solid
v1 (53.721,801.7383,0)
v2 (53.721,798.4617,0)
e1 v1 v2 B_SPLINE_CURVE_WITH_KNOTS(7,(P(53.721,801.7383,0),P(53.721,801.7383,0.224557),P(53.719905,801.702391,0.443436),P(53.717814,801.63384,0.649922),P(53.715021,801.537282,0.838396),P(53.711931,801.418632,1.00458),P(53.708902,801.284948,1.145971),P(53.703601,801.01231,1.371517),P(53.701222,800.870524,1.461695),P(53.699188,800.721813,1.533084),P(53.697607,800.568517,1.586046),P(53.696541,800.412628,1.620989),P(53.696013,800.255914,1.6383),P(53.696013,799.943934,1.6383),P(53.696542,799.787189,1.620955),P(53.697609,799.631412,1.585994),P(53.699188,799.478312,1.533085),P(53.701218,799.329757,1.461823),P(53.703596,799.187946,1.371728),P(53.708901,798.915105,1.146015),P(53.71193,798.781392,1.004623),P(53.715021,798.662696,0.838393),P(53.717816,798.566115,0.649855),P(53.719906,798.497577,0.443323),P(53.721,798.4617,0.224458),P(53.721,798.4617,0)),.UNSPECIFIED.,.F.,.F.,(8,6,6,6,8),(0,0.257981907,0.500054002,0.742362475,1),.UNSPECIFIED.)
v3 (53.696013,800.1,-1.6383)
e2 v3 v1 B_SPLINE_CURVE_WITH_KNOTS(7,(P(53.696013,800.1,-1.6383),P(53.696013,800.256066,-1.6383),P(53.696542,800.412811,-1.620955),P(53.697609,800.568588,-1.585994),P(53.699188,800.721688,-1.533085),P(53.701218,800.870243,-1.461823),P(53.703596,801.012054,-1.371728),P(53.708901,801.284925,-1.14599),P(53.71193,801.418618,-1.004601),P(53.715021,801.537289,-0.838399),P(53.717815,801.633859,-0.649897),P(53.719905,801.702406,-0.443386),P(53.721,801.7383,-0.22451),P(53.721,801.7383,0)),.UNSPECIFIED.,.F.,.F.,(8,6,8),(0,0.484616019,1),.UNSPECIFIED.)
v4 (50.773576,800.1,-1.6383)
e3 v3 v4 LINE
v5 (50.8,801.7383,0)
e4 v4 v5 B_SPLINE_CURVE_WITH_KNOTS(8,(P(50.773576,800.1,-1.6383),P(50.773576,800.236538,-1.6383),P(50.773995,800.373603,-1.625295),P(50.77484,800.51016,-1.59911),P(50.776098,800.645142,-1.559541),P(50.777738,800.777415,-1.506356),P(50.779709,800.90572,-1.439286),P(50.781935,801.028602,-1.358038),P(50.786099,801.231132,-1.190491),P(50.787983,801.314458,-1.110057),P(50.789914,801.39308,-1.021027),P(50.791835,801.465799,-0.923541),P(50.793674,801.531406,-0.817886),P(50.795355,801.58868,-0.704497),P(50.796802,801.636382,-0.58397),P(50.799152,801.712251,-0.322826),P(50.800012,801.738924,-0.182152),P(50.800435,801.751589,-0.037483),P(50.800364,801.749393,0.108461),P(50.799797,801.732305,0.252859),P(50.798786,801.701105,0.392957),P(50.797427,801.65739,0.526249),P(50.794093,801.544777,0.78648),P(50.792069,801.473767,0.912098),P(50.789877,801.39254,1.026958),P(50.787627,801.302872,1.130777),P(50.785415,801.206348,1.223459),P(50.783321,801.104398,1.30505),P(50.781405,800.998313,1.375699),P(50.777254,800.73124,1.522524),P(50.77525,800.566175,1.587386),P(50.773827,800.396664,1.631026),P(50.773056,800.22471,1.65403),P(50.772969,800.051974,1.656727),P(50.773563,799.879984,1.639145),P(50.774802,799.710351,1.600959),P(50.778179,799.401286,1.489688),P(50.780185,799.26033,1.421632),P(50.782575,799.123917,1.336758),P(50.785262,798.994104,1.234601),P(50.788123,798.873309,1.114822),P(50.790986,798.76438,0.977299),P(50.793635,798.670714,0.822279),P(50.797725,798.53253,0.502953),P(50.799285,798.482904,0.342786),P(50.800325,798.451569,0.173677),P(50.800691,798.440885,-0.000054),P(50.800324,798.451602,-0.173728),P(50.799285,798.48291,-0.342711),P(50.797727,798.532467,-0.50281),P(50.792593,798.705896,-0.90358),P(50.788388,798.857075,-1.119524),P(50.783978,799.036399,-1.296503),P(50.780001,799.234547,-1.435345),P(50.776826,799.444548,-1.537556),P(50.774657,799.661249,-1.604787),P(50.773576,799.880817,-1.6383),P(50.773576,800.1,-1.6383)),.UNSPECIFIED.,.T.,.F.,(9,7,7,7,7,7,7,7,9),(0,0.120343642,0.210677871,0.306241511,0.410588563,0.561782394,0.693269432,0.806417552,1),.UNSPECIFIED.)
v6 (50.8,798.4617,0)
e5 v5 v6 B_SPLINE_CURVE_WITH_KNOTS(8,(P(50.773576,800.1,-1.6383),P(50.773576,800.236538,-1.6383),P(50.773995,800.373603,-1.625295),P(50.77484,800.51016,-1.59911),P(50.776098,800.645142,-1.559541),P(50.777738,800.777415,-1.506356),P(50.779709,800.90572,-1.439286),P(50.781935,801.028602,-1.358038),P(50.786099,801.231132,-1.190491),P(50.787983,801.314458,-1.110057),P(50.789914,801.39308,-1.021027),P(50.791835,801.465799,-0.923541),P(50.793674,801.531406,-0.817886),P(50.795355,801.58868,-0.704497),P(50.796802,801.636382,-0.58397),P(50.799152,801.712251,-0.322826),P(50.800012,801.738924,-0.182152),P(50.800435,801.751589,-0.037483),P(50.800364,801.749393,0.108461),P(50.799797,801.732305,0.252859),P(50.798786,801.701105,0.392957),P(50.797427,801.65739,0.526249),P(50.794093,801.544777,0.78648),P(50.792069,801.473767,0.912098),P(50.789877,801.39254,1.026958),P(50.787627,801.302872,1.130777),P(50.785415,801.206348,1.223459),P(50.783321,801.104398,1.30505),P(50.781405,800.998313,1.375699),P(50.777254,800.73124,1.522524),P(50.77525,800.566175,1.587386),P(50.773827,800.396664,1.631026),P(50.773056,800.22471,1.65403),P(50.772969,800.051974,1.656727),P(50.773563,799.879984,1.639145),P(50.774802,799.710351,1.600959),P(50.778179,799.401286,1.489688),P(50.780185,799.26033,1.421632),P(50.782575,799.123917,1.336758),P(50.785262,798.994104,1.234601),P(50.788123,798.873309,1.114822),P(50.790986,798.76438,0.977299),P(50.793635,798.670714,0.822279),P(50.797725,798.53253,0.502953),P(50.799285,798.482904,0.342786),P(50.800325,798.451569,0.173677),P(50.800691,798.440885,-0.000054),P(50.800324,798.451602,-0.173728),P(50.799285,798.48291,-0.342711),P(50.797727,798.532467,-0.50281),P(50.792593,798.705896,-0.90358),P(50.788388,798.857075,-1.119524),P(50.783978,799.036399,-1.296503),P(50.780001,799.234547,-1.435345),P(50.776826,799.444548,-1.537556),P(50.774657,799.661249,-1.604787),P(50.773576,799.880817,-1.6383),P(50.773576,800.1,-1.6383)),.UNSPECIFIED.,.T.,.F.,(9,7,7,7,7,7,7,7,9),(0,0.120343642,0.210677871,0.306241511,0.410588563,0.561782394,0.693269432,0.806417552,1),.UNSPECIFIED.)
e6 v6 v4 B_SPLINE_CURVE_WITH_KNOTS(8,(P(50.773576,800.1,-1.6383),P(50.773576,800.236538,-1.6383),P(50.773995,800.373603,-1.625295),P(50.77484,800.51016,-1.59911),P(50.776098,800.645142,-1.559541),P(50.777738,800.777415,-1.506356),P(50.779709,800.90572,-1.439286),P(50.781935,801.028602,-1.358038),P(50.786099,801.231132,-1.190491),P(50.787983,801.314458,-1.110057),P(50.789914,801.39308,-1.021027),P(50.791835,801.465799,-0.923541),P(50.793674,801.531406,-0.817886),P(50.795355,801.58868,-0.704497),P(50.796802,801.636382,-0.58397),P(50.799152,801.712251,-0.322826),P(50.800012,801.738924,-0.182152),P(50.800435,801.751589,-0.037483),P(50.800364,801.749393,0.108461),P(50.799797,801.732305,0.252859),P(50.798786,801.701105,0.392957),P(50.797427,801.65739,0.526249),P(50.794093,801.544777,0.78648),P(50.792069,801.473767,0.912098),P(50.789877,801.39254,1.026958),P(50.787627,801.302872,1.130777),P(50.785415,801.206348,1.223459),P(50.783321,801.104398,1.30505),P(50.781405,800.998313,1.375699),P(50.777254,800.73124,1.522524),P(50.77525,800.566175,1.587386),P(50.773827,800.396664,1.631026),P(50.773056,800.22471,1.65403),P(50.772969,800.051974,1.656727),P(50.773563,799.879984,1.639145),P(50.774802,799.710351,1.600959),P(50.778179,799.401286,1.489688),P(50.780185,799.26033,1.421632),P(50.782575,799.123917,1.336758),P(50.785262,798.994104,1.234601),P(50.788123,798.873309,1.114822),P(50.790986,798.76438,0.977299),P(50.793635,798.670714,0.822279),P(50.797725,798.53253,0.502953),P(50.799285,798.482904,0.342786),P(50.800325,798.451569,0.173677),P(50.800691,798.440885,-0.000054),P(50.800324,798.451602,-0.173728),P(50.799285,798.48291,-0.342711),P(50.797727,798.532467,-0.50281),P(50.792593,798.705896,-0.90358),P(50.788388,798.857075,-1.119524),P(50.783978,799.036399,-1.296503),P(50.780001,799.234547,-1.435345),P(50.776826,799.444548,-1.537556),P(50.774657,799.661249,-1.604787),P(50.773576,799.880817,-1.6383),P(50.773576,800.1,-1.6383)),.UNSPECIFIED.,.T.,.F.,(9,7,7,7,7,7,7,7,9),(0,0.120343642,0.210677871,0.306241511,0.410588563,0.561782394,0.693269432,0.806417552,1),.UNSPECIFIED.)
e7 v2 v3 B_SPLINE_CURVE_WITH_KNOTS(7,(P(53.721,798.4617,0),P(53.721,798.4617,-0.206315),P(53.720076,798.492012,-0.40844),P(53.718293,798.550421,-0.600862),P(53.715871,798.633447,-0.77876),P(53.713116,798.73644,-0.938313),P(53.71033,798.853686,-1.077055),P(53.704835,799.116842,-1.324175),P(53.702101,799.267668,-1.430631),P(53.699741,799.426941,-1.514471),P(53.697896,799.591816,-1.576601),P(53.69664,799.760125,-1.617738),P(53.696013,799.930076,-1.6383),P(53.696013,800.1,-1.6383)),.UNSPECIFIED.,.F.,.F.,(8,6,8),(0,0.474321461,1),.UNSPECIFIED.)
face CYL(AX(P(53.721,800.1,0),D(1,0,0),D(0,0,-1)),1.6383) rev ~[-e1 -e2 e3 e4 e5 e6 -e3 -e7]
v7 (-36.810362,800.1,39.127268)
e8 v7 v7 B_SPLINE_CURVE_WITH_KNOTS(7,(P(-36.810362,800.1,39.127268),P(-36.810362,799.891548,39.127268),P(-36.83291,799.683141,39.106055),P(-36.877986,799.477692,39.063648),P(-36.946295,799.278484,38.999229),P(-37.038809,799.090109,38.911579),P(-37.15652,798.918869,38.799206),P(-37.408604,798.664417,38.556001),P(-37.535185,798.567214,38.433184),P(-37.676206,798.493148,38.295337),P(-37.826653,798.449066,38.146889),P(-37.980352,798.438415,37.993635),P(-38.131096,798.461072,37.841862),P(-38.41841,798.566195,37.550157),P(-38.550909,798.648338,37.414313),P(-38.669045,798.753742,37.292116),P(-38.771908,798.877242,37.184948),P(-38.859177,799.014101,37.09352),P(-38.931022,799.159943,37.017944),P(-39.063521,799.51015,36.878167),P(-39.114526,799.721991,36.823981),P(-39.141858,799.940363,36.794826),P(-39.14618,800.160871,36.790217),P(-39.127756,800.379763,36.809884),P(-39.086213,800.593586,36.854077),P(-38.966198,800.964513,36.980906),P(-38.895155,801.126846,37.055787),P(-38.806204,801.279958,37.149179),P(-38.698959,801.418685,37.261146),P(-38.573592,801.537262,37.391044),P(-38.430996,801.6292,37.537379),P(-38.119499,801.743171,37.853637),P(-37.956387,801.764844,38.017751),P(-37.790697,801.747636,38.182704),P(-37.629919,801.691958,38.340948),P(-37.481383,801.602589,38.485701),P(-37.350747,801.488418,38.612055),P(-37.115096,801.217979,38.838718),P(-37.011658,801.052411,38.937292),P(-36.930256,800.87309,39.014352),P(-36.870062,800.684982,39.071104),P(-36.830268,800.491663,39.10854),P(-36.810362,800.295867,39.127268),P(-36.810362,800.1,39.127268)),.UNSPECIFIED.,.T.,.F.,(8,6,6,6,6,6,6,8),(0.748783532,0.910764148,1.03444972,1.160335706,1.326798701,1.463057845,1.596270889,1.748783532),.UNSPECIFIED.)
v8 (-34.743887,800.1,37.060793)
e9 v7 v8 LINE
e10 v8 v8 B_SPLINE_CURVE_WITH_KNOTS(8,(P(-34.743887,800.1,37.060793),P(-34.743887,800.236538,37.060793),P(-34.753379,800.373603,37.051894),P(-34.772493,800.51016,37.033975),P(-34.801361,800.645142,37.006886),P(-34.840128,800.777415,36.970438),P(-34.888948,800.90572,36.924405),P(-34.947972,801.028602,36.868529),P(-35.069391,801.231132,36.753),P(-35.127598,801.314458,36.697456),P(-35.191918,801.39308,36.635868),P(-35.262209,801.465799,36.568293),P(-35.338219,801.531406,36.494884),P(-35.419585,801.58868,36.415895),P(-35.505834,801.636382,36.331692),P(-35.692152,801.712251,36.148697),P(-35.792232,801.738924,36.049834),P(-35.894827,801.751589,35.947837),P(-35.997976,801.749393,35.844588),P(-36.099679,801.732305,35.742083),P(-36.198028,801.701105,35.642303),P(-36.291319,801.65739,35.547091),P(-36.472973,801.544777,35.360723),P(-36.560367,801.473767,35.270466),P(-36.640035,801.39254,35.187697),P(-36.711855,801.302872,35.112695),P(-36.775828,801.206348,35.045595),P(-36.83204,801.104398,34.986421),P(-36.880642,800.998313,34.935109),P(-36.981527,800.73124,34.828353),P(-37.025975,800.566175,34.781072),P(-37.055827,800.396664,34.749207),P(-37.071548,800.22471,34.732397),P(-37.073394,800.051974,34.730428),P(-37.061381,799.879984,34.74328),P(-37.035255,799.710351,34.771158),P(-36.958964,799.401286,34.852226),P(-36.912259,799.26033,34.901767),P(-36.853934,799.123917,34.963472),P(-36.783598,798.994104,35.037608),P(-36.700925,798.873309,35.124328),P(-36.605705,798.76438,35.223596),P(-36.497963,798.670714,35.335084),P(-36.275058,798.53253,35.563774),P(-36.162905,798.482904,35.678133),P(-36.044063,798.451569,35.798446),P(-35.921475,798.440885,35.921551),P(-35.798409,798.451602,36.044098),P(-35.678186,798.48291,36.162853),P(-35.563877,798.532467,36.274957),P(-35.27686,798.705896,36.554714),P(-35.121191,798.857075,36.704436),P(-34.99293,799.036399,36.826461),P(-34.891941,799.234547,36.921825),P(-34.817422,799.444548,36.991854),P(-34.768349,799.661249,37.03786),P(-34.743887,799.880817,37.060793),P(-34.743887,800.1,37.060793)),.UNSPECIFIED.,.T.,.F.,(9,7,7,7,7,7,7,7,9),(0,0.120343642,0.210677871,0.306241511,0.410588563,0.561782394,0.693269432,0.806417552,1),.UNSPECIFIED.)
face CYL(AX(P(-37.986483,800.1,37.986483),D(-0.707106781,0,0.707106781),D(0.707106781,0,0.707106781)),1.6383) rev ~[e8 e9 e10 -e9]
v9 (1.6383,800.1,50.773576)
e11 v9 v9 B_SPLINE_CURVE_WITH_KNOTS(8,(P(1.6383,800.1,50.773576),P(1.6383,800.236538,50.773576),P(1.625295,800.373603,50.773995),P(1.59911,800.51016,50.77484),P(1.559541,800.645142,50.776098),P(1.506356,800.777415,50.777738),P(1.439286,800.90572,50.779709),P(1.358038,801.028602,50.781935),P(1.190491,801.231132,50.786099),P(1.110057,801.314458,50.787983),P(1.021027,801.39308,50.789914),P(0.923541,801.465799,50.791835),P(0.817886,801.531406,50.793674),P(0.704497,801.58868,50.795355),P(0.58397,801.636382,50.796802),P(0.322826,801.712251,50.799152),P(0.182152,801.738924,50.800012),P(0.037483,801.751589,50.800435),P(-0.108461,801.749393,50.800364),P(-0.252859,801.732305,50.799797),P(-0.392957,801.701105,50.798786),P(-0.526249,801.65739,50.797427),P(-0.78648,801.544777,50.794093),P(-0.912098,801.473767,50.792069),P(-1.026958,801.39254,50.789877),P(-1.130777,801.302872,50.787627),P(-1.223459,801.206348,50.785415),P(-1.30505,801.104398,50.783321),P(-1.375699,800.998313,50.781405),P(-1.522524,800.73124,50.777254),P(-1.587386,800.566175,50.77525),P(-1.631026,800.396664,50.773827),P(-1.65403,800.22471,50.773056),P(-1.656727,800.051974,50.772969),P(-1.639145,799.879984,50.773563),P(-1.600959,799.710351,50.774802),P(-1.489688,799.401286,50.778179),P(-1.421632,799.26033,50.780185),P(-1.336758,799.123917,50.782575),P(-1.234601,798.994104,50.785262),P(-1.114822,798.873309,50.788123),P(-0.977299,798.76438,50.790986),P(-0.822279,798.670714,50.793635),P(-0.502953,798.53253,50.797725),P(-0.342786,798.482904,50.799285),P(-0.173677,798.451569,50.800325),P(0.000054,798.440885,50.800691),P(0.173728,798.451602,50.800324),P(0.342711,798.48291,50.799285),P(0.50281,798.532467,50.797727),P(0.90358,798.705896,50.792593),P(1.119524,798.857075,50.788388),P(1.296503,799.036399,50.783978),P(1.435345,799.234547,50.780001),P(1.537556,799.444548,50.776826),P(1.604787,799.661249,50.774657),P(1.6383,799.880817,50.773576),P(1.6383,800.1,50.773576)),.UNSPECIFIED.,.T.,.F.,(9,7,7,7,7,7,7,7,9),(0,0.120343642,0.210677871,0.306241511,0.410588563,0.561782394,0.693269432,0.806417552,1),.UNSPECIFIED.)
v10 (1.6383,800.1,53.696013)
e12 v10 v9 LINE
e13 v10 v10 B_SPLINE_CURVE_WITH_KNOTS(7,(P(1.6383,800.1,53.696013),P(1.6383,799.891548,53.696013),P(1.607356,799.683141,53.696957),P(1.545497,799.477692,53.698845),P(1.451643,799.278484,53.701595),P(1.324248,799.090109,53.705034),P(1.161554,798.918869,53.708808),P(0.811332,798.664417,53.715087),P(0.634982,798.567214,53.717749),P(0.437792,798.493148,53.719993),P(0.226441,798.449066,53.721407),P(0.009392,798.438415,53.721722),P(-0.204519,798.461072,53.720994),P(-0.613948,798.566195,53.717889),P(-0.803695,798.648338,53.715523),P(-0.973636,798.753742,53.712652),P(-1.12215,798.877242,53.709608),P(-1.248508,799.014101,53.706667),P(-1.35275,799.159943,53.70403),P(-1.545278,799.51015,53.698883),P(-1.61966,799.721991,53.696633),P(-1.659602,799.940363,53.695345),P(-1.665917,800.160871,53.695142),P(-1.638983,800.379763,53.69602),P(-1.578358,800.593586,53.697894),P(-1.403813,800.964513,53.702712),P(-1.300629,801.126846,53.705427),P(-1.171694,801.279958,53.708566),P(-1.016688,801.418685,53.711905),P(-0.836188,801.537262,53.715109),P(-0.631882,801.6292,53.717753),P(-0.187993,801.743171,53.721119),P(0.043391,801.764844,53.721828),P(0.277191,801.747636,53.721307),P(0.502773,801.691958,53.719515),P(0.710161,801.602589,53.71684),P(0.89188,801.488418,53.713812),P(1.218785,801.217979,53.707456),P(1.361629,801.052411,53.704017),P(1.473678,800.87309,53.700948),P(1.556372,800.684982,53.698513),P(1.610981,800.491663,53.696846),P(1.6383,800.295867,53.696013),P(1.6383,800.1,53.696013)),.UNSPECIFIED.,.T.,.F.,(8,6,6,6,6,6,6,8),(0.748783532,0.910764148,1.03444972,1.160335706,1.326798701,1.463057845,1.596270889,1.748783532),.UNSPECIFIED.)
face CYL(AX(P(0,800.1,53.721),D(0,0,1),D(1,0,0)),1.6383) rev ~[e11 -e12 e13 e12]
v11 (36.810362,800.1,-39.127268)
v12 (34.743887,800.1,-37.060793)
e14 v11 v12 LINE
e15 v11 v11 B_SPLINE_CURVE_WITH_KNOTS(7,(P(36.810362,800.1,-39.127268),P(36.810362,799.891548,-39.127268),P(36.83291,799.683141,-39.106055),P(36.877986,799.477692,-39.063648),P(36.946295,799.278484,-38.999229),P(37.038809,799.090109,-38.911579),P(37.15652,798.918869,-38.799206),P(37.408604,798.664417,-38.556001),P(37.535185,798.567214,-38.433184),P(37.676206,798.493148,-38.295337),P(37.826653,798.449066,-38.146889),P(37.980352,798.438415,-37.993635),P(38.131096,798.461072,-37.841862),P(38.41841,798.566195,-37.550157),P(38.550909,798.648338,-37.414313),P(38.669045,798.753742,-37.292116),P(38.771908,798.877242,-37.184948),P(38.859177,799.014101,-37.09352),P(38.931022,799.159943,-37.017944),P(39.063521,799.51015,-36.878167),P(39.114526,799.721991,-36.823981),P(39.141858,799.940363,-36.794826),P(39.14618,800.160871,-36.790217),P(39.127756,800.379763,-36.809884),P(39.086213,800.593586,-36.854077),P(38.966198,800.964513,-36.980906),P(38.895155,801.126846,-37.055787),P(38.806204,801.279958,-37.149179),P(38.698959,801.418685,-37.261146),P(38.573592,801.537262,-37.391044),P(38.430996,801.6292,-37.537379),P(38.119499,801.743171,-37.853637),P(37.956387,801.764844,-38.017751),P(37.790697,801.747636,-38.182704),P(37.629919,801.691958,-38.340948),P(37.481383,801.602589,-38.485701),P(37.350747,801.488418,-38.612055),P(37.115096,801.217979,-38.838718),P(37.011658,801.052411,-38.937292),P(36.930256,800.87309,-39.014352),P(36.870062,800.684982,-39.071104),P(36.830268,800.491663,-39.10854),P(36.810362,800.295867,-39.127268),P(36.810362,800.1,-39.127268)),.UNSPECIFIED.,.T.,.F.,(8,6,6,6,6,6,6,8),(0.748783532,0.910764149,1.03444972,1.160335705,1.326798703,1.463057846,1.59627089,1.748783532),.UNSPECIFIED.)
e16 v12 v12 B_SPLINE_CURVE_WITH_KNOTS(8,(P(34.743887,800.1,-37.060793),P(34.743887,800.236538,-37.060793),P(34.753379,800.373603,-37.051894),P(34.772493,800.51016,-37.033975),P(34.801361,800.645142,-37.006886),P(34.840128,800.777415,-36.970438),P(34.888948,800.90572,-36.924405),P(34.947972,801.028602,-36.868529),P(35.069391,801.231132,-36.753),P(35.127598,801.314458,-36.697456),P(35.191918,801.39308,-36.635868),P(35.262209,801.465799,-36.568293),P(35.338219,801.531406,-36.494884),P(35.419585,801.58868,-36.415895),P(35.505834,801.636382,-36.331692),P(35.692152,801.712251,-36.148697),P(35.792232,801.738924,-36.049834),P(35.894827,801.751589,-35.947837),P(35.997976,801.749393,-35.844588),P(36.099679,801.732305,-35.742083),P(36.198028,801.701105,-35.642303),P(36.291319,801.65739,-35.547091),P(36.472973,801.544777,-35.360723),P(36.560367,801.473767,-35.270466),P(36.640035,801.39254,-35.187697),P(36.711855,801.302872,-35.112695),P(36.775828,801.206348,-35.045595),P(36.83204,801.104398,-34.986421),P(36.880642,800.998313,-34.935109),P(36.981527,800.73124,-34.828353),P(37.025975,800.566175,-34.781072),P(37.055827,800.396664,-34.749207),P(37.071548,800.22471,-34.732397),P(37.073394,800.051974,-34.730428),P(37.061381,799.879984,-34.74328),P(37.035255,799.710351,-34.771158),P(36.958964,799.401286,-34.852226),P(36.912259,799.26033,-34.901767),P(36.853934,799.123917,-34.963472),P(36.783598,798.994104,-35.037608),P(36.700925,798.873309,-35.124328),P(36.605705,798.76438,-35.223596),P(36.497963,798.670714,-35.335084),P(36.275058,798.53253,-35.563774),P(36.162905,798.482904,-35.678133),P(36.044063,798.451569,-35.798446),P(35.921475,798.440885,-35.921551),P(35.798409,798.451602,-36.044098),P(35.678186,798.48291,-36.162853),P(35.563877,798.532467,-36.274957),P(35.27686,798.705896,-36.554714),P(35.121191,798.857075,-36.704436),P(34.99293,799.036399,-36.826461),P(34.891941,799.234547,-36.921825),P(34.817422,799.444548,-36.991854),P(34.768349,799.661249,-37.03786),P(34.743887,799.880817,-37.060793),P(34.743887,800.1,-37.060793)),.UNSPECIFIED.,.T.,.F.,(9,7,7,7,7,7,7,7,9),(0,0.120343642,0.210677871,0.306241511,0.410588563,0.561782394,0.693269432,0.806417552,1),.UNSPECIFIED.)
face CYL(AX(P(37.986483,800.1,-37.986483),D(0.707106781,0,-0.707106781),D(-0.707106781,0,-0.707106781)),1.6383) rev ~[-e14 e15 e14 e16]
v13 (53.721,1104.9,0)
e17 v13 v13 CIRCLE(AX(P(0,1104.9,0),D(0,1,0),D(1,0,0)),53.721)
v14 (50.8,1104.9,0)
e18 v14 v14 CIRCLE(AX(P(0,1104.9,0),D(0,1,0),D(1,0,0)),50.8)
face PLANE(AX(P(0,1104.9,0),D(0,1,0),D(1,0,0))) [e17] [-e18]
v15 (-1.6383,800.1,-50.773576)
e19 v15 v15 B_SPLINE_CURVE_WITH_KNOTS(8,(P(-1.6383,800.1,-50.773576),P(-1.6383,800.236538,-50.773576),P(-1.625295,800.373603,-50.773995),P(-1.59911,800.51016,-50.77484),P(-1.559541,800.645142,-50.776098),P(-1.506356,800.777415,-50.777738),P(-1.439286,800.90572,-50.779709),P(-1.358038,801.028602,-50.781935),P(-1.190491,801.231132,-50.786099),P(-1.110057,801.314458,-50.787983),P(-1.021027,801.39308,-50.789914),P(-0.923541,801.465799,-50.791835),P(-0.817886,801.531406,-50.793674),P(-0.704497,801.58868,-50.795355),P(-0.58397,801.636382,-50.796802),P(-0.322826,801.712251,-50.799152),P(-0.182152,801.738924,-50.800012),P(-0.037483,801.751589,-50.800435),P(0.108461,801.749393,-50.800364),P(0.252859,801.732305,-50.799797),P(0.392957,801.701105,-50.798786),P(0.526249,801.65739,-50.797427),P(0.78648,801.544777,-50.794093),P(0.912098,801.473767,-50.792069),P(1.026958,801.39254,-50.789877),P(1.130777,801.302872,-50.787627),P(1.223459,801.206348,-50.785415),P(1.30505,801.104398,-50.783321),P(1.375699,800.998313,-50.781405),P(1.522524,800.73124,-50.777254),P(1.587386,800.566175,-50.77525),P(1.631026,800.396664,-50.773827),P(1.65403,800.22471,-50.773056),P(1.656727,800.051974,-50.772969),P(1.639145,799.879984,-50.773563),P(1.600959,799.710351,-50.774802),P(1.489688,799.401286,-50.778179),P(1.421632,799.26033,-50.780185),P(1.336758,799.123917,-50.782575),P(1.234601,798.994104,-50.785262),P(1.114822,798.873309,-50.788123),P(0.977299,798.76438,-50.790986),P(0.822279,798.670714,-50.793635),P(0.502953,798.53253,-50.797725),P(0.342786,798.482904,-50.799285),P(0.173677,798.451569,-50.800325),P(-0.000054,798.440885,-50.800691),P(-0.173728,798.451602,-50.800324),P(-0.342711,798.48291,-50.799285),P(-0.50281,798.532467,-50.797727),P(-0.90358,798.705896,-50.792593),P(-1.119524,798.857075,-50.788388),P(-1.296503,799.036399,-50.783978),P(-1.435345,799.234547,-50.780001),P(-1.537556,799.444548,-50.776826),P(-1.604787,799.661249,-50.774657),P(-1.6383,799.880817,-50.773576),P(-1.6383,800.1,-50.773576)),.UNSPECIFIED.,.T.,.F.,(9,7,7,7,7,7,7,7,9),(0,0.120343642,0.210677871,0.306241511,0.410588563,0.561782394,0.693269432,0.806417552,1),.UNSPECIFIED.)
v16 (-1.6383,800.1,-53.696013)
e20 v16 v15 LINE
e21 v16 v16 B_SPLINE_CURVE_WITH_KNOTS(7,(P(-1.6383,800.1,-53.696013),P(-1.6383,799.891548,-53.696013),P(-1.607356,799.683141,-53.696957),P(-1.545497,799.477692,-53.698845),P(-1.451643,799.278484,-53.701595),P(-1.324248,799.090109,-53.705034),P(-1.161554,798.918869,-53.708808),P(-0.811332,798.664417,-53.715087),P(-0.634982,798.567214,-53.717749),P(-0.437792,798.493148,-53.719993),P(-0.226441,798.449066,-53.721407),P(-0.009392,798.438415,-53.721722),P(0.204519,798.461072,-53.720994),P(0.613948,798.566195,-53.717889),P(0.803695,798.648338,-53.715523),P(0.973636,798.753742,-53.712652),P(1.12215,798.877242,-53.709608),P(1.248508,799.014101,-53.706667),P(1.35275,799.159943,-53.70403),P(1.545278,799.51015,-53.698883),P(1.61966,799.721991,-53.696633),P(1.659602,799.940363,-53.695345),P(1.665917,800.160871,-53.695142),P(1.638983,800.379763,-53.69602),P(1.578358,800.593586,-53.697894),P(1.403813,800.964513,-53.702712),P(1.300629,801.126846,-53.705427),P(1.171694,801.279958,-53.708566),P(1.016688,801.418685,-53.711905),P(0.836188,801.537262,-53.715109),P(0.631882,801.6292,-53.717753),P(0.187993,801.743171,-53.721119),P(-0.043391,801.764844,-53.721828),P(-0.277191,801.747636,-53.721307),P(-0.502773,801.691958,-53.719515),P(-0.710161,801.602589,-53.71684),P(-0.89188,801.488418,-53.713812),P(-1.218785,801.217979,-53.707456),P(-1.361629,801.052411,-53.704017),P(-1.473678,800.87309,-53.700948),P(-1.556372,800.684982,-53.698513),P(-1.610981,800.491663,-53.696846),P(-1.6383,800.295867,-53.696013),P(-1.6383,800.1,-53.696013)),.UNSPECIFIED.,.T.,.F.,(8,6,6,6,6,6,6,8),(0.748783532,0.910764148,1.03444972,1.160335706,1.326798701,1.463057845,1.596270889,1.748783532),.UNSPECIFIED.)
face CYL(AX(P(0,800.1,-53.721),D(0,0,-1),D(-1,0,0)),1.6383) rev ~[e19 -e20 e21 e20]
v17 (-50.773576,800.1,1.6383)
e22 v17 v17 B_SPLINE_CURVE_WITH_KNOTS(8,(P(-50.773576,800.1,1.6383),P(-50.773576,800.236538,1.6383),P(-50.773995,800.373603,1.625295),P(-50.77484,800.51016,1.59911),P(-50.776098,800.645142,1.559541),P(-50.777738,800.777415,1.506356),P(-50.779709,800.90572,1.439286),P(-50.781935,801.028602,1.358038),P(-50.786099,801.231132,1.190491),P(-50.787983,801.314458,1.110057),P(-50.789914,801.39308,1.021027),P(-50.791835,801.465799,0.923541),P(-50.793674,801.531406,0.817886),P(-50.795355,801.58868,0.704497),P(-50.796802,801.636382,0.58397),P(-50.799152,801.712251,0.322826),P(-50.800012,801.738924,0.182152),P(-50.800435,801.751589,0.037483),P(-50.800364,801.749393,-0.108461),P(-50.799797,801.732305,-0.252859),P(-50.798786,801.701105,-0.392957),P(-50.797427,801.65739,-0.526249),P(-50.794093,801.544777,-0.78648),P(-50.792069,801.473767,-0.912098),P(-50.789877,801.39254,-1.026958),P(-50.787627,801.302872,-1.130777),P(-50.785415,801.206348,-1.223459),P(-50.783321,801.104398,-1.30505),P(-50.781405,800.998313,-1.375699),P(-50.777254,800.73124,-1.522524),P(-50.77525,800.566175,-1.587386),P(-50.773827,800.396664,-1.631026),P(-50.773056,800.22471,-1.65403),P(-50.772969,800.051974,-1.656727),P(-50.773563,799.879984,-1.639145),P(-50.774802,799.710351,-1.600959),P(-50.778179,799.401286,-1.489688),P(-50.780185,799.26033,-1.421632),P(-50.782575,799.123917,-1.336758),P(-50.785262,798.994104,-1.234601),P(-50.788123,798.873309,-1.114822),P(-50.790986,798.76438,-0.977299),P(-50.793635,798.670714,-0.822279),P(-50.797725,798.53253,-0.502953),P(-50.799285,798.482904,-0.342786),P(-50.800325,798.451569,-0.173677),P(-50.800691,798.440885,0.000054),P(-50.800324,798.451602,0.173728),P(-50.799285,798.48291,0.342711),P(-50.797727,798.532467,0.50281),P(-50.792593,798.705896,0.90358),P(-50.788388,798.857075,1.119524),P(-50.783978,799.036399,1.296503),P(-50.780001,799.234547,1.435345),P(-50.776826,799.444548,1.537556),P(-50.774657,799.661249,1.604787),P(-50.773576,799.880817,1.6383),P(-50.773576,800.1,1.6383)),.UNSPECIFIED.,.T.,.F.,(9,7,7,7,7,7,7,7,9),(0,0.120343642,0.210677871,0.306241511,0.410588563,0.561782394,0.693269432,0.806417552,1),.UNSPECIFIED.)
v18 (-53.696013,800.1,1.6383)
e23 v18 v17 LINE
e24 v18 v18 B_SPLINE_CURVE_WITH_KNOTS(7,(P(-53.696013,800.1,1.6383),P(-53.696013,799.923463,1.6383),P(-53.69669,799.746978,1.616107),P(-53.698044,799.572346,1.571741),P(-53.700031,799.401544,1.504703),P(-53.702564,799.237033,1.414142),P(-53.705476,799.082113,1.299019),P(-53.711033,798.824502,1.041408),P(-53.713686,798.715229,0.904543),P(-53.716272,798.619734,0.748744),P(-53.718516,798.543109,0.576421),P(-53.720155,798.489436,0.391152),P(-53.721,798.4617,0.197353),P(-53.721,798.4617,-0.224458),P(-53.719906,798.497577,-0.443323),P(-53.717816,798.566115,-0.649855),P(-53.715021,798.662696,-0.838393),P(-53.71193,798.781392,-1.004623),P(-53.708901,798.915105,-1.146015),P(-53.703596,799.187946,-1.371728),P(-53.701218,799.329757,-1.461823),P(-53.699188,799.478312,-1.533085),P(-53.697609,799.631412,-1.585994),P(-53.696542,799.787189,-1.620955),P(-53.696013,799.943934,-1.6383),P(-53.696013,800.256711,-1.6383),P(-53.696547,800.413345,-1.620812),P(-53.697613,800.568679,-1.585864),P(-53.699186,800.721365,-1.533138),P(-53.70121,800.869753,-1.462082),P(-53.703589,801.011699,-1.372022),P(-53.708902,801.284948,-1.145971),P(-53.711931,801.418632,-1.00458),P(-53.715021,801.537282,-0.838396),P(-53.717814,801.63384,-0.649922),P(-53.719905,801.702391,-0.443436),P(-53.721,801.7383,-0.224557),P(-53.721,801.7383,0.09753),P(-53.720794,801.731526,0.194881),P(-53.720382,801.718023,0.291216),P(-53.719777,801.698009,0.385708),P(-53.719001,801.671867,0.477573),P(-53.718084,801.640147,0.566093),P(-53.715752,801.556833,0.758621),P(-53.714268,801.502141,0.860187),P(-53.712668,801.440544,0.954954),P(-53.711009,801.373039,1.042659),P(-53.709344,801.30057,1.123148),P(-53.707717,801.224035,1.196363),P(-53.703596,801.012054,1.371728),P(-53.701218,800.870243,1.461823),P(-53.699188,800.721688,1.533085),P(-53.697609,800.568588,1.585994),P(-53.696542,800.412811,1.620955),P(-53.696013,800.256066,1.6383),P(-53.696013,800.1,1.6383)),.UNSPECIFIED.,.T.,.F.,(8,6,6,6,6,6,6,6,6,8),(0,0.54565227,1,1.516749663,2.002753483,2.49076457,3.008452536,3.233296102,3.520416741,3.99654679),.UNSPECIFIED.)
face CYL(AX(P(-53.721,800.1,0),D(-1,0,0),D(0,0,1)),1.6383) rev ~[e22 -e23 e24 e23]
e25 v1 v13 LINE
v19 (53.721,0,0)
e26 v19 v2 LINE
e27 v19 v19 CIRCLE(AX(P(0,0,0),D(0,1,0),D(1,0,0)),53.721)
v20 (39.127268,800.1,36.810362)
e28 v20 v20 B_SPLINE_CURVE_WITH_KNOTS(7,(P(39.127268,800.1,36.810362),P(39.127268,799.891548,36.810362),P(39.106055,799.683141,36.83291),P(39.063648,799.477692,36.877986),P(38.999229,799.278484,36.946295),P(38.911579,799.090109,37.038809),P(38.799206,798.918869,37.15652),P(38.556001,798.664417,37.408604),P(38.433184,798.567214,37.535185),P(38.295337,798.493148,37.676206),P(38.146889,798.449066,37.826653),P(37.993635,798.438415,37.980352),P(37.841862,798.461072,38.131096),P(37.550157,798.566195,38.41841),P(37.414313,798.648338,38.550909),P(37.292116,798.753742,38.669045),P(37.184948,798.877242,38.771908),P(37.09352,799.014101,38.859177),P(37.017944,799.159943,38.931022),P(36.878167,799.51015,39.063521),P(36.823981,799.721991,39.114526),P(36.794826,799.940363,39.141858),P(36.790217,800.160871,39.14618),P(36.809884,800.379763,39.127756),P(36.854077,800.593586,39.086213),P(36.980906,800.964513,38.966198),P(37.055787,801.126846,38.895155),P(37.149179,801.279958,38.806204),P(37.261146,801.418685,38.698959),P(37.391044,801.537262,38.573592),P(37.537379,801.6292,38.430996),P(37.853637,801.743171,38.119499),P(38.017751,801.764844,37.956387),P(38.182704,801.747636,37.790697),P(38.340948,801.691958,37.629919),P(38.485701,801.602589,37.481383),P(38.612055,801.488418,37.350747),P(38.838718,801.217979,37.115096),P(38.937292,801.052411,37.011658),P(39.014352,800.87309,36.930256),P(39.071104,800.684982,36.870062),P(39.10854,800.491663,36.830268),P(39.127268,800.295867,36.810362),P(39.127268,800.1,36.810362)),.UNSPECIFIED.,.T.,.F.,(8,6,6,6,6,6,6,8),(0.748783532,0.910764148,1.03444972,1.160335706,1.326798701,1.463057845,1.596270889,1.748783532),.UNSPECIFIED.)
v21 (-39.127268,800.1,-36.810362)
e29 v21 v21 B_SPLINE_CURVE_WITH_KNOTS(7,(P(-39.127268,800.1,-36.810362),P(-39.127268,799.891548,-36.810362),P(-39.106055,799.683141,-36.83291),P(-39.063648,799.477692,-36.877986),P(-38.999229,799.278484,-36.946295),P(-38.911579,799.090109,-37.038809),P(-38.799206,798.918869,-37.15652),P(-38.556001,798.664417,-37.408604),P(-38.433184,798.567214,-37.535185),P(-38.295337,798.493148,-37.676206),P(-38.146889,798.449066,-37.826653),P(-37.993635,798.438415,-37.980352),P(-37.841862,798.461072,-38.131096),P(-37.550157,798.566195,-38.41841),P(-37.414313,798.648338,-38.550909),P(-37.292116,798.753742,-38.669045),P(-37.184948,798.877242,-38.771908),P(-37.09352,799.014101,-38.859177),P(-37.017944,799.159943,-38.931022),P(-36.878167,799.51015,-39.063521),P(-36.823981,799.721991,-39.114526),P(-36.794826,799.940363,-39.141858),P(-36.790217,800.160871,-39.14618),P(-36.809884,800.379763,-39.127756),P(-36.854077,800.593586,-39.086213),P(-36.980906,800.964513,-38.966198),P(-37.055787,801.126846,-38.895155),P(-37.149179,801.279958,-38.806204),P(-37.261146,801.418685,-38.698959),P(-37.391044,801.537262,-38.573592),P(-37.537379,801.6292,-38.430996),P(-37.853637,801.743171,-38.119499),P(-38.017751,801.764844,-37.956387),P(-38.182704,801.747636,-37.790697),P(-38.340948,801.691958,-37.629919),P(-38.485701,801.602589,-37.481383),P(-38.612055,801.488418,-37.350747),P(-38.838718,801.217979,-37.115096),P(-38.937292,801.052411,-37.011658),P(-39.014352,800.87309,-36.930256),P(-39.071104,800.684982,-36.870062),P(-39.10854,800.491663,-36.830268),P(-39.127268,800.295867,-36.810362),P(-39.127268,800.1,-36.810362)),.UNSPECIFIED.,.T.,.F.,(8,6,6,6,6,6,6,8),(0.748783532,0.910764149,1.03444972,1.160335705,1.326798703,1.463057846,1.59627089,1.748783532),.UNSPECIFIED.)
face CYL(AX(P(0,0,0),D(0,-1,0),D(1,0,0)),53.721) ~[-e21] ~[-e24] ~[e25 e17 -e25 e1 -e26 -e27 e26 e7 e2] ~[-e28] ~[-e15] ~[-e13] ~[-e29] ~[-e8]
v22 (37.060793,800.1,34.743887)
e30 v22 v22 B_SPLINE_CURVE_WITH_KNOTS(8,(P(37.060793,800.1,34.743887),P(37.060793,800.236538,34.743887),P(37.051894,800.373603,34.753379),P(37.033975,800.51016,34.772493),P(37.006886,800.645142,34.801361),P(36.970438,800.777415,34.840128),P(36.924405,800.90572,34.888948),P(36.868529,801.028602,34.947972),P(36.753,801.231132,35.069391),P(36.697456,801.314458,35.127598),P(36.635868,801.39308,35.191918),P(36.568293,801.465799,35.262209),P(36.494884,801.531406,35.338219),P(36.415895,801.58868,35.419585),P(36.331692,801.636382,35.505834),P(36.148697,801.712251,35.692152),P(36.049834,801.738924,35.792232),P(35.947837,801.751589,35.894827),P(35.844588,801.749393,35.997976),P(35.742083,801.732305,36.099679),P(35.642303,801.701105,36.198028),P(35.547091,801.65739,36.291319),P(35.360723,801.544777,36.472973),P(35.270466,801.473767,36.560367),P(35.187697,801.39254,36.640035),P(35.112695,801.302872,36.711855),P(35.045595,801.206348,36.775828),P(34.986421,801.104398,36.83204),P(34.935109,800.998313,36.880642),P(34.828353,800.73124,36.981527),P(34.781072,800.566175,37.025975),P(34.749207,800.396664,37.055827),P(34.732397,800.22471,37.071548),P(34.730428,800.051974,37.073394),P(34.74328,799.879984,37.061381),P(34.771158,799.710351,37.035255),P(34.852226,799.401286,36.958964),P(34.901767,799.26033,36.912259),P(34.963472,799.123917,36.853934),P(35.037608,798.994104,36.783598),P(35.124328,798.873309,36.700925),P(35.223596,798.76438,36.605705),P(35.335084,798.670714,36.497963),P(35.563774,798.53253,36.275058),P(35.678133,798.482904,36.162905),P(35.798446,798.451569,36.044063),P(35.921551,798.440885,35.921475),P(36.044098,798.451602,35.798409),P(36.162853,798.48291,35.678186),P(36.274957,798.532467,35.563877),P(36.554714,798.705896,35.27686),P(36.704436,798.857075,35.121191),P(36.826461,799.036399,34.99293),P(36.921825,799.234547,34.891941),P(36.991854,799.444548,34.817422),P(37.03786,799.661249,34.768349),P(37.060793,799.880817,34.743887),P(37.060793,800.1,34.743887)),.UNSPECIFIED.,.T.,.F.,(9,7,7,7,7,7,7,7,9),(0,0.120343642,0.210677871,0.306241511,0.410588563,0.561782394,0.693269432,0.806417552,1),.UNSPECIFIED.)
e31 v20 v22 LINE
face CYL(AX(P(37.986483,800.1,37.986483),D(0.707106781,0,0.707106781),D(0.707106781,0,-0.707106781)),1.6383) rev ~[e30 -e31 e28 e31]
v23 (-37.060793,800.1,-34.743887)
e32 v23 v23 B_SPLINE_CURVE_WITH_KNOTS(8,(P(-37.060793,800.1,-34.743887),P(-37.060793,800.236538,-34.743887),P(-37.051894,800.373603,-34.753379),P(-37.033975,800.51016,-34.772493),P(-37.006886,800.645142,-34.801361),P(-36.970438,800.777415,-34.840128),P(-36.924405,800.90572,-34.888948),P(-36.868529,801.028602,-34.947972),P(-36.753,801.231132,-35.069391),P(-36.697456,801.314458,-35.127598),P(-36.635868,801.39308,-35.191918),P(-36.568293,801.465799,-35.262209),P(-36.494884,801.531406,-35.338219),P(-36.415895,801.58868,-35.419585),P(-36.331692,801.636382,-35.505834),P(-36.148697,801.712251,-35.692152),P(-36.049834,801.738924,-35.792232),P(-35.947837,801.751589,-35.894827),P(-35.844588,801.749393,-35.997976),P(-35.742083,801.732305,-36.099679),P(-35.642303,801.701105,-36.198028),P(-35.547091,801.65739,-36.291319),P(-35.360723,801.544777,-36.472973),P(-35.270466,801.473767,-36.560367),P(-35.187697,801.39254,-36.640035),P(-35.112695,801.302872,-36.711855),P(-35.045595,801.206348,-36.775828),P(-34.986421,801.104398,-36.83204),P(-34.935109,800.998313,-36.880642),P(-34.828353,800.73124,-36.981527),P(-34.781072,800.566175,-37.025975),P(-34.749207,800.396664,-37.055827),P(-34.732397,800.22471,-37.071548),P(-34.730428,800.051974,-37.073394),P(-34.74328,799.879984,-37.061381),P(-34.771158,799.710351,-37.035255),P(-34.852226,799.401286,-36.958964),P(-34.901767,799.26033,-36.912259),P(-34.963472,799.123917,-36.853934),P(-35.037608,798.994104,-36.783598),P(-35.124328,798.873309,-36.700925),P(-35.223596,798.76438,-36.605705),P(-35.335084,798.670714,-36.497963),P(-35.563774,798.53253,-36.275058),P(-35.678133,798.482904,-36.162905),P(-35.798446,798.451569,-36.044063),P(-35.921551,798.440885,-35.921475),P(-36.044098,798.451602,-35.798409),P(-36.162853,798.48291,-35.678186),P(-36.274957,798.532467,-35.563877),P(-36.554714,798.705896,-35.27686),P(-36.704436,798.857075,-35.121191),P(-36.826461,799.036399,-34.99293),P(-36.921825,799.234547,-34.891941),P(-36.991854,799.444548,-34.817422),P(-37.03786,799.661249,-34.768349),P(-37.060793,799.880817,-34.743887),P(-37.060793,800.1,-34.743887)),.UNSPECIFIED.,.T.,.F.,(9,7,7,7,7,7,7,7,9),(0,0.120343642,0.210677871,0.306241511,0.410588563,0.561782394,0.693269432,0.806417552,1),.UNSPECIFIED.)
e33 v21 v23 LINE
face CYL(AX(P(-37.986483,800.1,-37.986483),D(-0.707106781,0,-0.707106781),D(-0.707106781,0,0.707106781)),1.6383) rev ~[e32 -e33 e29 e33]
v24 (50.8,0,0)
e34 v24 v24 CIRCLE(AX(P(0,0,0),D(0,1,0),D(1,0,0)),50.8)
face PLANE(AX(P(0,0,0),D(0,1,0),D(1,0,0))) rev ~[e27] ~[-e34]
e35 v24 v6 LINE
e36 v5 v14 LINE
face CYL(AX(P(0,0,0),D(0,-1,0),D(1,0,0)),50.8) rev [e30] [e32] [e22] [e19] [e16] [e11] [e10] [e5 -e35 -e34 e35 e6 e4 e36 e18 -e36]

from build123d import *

# Parameters (mm, degrees)
SKETCH1_R                 = 53.721
SKETCH1_R_2               = 50.8
BODY_TUBE_EXTRUSION_DEPTH = 1104.9
BULKHEAD_HOLE_REACH       = 1113.411
BULKHEAD_HOLE_END_RADIUS  = 50.8
SKETCH2_R                 = 1.6383
CIRPATTERN1_COUNT         = 8


with BuildPart() as part:
    # Sketch1 → Body Tube Extrusion (new body)
    with BuildSketch(Plane(origin=(0, 0, 0), x_dir=(1, 0, 0), z_dir=(0, 1, 0))):
        Circle(SKETCH1_R)
        Circle(SKETCH1_R_2, mode=Mode.SUBTRACT)
    extrude(amount=BODY_TUBE_EXTRUSION_DEPTH)

    # Bulkhead Hole: up to this cylinder (the profile starts outside it)
    bulkhead_hole_end = Plane(origin=(0, 800.1, 0), z_dir=(0, -1, 0)) * Cylinder(BULKHEAD_HOLE_END_RADIUS, 2329.422, mode=Mode.PRIVATE)
    # Sketch2 → Bulkhead Hole (cut, up to the surface)
    with BuildSketch(Plane.XY.offset(53.721), mode=Mode.PRIVATE) as bulkhead_hole_sk1:
        with Locations((0, 800.1)):
            Circle(SKETCH2_R)
    bulkhead_hole_tool1 = extrude(bulkhead_hole_sk1.sketch, amount=-BULKHEAD_HOLE_REACH, mode=Mode.PRIVATE) - bulkhead_hole_end
    bulkhead_hole = bulkhead_hole_tool1.solids().sort_by_distance((0, 800.1, 53.721))[0]
    add(bulkhead_hole, mode=Mode.SUBTRACT)

    # CirPattern1: Bulkhead Hole ×8 about axis
    cirpattern1_axis = Axis((0, 1104.9, 0), (0, -1, 0))
    for i in range(1, CIRPATTERN1_COUNT):
        add(bulkhead_hole.rotate(cirpattern1_axis, i * 360 / CIRPATTERN1_COUNT), mode=Mode.SUBTRACT)


solid = part.part
